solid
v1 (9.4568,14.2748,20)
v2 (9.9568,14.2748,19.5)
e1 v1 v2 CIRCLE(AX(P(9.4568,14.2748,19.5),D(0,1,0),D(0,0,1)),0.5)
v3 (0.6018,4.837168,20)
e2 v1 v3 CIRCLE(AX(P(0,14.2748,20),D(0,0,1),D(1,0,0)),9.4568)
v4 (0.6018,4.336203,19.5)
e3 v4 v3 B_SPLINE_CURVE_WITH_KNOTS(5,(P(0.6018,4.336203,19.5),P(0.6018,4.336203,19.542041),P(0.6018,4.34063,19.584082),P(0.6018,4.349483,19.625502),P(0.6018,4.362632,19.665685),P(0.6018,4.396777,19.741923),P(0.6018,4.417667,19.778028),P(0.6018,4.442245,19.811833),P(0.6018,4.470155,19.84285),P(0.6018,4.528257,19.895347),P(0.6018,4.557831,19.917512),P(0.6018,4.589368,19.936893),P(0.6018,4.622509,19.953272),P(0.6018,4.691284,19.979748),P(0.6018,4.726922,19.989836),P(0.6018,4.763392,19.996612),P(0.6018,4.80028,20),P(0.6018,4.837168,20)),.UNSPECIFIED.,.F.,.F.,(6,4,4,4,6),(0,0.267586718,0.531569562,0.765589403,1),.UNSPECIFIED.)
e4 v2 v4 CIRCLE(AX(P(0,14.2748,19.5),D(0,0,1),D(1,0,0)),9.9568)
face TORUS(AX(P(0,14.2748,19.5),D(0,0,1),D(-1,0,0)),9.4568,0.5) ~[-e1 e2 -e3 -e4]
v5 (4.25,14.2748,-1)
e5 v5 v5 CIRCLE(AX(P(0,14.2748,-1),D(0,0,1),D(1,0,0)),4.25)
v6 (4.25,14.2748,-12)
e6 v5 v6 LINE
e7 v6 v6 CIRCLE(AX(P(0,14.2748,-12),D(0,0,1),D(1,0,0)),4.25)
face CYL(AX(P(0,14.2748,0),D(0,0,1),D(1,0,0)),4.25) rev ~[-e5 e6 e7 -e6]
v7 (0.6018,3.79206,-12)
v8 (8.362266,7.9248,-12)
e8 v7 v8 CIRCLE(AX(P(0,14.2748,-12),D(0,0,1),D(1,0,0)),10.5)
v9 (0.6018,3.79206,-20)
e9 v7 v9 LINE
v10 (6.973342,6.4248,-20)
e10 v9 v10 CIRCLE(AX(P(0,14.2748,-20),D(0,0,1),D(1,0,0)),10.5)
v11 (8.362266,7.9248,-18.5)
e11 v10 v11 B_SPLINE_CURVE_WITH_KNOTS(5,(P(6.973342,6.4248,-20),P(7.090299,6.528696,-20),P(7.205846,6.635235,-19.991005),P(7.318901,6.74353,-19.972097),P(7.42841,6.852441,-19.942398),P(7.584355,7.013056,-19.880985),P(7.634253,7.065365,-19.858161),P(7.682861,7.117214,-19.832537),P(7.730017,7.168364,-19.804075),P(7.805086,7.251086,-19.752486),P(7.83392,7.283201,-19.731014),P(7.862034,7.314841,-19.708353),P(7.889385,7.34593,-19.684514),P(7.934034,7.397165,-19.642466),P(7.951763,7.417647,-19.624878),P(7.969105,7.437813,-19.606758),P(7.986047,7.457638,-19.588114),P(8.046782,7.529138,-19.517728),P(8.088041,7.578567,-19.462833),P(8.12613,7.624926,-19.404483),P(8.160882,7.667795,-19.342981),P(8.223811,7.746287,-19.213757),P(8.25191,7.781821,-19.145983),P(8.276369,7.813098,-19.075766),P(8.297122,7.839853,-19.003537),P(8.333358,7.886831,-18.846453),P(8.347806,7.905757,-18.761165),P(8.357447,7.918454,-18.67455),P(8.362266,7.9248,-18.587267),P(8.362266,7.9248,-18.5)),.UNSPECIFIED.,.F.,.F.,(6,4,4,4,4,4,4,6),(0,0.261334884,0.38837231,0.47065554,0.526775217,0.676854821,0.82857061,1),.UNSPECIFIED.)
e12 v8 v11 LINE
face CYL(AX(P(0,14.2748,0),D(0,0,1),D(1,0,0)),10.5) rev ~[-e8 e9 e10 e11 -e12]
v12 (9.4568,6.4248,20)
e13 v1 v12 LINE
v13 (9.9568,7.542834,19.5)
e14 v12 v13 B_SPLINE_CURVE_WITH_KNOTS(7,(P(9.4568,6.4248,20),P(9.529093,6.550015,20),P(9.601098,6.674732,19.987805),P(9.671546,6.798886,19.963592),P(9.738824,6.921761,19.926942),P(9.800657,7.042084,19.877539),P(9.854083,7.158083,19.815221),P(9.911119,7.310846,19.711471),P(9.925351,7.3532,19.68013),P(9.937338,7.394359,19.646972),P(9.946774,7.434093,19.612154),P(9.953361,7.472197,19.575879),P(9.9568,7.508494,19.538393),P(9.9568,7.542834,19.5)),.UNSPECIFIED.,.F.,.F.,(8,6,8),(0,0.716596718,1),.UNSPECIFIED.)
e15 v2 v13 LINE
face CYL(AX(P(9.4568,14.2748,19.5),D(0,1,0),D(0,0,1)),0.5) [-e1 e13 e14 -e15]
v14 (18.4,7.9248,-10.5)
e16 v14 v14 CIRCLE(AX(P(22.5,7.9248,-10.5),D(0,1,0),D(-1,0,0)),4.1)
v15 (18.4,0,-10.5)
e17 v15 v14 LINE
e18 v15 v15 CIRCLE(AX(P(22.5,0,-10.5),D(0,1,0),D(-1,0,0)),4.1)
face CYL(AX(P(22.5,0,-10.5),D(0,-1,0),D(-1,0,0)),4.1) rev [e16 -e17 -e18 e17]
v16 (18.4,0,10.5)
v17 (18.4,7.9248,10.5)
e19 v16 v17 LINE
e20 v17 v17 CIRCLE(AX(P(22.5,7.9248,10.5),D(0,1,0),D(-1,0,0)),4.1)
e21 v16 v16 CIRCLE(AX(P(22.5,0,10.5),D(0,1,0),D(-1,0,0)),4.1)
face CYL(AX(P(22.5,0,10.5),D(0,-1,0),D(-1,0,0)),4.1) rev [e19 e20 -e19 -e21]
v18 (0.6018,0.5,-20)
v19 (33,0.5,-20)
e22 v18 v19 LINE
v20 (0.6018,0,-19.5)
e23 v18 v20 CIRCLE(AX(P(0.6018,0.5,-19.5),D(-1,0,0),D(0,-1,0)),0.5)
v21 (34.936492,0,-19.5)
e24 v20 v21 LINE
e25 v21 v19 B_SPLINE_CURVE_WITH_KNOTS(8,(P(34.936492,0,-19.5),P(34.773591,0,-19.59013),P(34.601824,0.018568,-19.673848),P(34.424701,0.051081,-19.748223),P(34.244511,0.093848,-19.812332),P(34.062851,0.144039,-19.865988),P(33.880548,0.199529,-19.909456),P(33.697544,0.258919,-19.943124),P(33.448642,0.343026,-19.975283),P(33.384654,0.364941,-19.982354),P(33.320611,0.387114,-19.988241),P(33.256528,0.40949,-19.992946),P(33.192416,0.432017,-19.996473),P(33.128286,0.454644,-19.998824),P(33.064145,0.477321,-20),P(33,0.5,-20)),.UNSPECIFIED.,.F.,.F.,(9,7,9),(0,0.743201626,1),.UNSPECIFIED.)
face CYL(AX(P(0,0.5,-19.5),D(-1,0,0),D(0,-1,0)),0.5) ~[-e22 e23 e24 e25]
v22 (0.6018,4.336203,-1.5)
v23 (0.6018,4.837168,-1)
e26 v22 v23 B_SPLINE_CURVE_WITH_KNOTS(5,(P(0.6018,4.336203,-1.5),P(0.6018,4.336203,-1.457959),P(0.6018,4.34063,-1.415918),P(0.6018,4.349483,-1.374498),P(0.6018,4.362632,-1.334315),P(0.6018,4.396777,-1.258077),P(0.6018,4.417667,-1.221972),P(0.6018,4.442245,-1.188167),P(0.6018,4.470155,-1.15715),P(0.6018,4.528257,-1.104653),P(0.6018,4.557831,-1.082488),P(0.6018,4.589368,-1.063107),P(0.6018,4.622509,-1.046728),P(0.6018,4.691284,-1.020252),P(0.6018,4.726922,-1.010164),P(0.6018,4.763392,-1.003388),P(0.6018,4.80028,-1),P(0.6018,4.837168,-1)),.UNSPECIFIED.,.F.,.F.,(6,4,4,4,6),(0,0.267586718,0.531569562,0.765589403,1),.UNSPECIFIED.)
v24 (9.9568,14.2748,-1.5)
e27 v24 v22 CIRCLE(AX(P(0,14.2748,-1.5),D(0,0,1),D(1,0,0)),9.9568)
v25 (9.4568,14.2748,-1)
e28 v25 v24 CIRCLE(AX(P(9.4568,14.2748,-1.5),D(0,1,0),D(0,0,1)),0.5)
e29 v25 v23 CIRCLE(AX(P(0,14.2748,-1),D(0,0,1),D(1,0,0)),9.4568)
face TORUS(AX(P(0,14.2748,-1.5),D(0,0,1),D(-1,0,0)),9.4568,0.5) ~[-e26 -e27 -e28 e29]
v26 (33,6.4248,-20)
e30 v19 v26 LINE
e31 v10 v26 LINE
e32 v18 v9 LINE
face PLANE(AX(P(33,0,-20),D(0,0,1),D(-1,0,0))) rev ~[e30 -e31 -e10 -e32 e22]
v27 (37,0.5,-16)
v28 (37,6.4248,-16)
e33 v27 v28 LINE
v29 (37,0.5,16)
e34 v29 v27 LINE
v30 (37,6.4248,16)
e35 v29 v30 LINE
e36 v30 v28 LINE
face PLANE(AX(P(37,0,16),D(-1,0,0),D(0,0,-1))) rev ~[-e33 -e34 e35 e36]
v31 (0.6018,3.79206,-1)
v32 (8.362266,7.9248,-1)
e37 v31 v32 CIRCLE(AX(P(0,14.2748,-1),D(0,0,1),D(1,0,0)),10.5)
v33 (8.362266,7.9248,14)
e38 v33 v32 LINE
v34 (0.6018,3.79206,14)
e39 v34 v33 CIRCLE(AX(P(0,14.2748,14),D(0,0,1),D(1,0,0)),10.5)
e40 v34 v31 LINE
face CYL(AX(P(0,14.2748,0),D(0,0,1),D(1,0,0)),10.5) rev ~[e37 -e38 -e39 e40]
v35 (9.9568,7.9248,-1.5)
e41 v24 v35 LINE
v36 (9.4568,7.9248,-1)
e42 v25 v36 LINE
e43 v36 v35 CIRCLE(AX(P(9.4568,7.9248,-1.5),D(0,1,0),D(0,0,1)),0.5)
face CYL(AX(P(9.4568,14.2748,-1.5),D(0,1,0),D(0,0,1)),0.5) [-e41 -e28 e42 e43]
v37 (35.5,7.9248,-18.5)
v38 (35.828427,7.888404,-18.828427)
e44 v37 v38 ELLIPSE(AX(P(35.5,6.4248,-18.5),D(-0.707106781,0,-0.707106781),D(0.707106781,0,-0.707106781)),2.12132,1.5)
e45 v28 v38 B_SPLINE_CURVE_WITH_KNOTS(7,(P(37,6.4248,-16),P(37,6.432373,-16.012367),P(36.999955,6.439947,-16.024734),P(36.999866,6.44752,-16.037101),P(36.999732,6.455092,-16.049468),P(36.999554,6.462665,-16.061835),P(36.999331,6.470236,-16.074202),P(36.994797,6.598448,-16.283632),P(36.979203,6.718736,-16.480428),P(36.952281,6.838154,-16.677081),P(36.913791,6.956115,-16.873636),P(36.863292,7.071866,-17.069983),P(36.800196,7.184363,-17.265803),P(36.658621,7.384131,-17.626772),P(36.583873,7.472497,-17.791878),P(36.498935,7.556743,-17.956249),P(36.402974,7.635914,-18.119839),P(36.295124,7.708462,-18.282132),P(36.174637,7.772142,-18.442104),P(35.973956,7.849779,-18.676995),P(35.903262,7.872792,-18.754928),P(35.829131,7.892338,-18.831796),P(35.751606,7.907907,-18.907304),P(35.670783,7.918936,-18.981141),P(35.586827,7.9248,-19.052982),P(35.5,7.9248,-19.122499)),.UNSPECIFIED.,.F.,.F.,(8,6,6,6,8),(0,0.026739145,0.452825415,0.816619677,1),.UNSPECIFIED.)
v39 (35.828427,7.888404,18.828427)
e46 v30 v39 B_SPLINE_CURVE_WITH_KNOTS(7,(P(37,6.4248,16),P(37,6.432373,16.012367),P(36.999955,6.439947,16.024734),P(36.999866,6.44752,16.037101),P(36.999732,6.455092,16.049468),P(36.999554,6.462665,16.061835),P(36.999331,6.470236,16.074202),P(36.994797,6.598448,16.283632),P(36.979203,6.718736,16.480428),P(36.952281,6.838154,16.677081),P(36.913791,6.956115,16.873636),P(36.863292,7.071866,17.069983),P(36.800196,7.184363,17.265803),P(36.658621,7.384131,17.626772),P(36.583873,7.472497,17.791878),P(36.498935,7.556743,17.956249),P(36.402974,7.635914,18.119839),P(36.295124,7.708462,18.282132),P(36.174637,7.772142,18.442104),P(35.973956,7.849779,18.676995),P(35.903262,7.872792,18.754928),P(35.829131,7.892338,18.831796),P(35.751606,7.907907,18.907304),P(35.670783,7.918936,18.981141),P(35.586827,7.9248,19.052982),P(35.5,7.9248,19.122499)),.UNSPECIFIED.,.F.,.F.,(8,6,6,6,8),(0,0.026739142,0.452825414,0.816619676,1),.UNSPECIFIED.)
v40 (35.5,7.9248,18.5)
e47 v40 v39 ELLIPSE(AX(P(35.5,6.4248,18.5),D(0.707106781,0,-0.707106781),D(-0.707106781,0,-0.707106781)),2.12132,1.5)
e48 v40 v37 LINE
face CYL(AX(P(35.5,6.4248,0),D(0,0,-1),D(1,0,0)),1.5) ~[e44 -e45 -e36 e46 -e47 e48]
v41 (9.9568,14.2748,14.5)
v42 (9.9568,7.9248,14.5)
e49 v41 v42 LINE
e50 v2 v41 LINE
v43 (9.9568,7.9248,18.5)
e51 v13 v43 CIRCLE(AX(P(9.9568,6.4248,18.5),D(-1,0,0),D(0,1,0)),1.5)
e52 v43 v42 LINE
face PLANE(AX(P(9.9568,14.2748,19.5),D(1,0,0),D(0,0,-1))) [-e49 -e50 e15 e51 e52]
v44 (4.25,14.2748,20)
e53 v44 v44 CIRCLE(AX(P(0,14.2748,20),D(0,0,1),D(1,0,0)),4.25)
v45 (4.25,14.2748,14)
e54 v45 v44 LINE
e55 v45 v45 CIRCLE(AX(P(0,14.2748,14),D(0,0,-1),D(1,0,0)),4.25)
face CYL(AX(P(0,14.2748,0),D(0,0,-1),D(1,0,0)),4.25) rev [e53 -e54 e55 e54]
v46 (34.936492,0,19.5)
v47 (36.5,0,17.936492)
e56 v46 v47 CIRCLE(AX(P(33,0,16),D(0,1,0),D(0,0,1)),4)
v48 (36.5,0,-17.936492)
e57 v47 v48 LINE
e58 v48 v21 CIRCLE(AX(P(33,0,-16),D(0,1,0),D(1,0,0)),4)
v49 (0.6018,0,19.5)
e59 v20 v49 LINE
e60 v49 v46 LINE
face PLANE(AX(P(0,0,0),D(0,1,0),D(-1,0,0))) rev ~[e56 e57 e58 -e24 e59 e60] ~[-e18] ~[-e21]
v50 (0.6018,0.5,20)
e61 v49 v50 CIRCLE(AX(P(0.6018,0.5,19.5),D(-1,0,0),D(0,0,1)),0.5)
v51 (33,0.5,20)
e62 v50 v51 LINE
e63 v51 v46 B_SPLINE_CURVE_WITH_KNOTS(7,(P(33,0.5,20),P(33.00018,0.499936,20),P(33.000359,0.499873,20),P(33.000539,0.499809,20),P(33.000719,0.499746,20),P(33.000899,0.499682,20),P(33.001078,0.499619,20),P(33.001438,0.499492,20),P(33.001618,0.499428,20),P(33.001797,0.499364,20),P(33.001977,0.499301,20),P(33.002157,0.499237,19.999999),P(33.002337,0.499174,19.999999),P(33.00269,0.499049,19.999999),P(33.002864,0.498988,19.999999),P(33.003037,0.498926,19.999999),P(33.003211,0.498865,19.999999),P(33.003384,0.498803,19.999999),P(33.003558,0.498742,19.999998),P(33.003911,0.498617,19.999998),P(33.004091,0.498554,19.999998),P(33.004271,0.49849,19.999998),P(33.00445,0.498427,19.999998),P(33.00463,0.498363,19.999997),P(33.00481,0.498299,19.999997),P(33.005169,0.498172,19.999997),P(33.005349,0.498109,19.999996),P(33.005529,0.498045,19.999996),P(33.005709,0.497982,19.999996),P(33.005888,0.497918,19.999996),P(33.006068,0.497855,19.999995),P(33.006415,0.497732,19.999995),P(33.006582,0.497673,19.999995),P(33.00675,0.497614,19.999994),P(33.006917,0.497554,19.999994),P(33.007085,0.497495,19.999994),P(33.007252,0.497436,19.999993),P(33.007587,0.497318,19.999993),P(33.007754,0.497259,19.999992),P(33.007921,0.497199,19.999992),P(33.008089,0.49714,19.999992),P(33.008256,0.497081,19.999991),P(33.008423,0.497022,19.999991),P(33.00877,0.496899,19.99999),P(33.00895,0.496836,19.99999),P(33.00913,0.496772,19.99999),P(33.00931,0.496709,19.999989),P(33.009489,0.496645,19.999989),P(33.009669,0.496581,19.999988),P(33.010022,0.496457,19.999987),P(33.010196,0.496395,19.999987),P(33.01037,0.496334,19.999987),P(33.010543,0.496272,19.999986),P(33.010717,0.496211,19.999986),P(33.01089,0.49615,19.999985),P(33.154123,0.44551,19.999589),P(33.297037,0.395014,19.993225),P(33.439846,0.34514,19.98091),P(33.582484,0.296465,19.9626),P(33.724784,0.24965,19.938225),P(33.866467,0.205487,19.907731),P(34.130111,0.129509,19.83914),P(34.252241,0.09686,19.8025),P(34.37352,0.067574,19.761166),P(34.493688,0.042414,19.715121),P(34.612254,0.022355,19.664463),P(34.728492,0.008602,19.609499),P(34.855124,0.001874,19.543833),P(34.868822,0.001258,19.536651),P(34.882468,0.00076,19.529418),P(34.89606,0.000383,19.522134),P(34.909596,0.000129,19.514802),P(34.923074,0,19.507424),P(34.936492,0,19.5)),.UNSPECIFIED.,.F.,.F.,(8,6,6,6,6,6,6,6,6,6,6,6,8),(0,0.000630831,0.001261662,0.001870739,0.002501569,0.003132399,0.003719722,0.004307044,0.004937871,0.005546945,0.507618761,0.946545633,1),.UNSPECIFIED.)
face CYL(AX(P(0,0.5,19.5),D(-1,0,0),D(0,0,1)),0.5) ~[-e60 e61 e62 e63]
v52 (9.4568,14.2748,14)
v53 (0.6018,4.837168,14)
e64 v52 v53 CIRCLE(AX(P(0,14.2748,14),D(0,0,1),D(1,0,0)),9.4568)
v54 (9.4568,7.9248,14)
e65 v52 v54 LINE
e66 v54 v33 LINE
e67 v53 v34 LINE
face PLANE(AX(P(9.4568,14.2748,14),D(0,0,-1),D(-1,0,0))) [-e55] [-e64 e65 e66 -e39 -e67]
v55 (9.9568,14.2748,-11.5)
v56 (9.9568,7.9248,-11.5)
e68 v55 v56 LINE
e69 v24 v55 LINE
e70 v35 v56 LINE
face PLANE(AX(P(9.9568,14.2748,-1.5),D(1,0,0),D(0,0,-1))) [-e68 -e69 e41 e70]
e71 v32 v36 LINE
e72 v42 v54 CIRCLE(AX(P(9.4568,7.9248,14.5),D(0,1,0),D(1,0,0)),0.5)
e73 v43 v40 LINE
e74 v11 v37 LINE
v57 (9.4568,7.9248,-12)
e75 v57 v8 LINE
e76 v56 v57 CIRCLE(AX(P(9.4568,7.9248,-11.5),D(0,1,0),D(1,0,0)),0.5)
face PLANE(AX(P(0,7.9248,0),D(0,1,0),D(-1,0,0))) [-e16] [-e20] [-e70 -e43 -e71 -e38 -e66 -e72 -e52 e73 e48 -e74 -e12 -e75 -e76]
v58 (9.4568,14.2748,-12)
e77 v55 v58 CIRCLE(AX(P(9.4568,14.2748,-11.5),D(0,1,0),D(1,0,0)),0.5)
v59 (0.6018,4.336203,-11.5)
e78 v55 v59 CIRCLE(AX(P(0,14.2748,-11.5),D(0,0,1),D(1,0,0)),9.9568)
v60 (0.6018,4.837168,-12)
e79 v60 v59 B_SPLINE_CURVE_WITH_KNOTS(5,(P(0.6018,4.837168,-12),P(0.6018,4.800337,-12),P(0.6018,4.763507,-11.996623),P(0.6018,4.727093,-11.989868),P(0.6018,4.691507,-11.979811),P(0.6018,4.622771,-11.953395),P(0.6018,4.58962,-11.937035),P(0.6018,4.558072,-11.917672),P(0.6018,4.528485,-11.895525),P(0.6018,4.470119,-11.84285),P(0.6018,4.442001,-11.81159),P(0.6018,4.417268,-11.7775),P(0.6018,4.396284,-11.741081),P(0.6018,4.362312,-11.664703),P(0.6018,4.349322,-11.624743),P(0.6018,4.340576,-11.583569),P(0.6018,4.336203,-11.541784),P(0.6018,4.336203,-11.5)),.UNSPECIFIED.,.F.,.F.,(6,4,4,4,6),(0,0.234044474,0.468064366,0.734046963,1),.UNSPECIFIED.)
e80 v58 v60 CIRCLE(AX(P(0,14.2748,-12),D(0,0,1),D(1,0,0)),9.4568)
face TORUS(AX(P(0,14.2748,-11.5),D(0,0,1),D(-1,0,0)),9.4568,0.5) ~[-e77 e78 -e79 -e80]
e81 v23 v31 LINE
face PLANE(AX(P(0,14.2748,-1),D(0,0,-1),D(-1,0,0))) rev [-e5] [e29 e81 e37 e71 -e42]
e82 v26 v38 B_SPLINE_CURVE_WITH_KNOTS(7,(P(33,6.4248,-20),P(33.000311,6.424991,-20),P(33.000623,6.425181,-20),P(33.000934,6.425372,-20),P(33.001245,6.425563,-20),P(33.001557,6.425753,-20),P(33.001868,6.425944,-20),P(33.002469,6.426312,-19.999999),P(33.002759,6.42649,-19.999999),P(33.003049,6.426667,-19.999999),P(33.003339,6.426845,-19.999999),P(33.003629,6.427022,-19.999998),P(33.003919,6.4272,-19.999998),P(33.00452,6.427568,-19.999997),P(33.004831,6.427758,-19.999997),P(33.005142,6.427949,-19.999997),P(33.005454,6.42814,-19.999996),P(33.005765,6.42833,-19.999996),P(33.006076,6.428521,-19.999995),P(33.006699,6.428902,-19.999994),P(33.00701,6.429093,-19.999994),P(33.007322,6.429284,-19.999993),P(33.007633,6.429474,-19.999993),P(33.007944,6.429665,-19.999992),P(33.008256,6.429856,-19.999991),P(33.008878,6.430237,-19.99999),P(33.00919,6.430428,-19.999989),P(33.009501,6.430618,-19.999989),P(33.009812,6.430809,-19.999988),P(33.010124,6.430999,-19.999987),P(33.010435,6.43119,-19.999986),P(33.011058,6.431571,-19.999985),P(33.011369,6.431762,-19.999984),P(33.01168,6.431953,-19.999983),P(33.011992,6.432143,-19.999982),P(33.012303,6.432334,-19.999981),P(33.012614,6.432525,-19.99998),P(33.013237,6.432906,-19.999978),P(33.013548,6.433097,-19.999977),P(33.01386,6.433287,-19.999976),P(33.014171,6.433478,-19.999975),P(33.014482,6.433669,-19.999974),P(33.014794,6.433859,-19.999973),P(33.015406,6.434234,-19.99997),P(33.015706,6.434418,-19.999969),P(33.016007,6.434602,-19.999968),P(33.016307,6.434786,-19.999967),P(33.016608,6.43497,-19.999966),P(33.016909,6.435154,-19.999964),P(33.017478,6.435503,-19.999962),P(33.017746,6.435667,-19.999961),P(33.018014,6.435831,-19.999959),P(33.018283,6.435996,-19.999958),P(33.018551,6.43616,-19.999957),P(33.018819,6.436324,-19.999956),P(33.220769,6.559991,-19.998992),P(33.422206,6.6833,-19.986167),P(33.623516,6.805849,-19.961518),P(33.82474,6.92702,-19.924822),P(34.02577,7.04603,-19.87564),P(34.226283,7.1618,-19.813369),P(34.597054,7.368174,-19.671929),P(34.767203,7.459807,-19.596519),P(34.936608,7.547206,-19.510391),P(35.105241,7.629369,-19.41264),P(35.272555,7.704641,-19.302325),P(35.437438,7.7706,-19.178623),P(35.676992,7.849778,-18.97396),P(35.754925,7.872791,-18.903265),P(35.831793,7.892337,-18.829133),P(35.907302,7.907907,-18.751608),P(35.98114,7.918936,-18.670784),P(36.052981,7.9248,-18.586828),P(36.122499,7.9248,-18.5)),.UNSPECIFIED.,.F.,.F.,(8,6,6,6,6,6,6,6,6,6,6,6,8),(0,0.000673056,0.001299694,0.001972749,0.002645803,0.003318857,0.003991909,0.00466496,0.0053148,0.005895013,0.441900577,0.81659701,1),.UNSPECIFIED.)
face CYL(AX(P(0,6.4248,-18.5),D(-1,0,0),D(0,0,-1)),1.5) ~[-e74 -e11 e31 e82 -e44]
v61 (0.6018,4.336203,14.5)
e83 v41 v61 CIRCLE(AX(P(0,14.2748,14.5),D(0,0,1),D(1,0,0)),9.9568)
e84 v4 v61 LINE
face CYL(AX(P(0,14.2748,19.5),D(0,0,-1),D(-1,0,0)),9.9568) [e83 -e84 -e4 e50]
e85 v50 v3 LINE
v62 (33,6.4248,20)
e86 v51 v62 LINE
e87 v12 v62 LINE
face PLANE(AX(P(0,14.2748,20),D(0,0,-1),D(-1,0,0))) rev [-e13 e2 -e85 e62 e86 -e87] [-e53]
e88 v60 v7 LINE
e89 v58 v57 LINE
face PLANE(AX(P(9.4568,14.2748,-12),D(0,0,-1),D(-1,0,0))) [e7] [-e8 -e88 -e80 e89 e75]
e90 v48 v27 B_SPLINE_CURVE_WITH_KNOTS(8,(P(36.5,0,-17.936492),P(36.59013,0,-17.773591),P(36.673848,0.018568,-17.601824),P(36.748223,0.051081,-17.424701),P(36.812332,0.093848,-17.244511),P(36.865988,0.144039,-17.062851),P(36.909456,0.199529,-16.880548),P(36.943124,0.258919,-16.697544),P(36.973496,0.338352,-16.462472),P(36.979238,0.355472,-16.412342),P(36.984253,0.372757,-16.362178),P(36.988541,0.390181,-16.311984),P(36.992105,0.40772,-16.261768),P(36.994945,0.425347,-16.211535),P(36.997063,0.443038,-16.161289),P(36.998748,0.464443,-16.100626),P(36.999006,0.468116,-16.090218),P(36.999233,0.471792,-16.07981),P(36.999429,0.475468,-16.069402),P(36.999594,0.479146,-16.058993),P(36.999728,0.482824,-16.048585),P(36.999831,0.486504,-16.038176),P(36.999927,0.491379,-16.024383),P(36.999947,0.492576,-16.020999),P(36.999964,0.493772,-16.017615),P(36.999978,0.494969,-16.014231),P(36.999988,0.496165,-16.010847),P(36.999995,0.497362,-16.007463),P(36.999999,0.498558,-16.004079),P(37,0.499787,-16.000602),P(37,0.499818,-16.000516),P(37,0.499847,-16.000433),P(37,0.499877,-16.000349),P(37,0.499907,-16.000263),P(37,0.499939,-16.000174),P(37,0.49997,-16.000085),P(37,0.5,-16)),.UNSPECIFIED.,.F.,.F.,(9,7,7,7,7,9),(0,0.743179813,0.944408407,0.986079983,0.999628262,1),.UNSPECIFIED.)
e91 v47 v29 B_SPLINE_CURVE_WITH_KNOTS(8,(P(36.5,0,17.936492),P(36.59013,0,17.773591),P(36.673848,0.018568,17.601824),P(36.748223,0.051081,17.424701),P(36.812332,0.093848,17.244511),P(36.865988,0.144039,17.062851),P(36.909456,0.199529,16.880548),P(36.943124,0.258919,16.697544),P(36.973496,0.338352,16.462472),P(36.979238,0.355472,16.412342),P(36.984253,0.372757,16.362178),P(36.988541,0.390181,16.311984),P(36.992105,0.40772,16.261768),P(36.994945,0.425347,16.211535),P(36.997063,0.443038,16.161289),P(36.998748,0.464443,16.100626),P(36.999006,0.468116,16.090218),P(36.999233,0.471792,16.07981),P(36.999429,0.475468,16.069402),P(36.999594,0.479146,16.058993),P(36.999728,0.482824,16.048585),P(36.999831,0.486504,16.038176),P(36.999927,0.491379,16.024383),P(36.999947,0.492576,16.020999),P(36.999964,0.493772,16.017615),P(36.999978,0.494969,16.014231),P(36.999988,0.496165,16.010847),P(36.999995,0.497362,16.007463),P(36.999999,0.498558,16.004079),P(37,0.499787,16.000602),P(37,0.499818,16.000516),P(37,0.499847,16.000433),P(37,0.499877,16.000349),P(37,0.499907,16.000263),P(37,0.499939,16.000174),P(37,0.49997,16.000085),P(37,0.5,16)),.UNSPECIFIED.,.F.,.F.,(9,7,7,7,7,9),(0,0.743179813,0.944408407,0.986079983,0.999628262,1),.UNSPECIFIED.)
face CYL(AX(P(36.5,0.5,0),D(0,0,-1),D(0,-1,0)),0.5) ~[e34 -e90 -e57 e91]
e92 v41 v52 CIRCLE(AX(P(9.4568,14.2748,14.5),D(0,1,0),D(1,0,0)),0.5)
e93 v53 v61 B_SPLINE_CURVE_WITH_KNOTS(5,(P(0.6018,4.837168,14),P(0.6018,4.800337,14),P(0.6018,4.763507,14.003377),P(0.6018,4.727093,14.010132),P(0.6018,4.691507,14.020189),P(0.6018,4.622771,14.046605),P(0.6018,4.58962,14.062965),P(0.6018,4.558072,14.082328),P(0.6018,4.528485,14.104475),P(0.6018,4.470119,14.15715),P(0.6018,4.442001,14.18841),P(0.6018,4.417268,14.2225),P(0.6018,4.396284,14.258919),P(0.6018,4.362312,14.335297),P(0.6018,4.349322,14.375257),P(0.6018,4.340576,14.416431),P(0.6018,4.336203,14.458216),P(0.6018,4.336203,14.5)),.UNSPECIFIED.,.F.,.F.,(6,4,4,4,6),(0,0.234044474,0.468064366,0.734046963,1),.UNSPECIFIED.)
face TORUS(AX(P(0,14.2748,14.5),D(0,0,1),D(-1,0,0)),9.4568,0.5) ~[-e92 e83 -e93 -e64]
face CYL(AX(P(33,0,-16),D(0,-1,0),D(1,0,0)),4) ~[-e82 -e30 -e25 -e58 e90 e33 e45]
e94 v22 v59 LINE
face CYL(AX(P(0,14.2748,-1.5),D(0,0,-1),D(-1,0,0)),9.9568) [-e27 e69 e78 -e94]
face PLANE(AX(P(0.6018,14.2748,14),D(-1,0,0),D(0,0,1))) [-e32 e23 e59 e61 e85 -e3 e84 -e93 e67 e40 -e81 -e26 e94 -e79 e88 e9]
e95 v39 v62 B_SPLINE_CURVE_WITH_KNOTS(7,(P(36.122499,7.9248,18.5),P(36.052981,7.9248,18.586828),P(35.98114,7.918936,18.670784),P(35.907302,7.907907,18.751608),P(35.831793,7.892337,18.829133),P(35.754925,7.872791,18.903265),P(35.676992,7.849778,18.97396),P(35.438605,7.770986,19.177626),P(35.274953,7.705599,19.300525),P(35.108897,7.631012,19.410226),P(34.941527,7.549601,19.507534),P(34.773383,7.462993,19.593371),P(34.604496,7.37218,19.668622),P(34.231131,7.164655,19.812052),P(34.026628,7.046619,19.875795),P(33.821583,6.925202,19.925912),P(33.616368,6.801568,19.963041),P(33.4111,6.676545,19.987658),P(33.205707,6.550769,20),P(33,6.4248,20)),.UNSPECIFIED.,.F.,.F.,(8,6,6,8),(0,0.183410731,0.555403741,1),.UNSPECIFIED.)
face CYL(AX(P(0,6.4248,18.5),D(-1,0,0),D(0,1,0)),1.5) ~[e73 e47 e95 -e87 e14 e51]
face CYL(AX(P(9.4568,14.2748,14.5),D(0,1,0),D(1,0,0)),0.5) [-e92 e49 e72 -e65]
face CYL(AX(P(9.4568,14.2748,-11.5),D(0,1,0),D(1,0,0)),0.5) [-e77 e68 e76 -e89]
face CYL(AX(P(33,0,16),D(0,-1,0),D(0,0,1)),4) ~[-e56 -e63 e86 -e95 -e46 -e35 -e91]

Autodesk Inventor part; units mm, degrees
sketch "Sketch_1" plane through (0, 0, 0) normal (0, 1, 0) x (-1, 0, 0)
  line L0 (-0.6018, -20) -> (-0.6018, 20)
  line L1 (-0.6018, 20) -> (-33, 20)
  arc A0 (-33, 20) -> (-37, 16) centre (-33, 16) ccw
  line L2 (-37, 16) -> (-37, -16)
  arc A1 (-37, -16) -> (-33, -20) centre (-33, -16) ccw
  line L3 (-33, -20) -> (-0.6018, -20)
  circle A2 centre (-22.5, 10.5) radius 4.1
  circle A3 centre (-22.5, -10.5) radius 4.1
extrude "Extrusion1" add sketch "Sketch_1" along normal blind 7.9248
sketch "Sketch_2" plane through (0, 0, 0) normal (0, 0, 1) x (1, 0, 0)
  line L0 (-37, 15.8496) -> (-37, -7.9248)
  line L1 (-37, -7.9248) -> (74, -7.9248)
  line L2 (74, -7.9248) -> (74, 15.8496)
  line L3 (74, 15.8496) -> (-37, 15.8496)
  line L4 (0.6, 7.9248) -> (0.6, 0)
  line L5 (0.6, 0) -> (36.5, 0)
  arc A0 (36.5, 0) -> (37, 0.5) centre (36.5, 0.5) ccw
  line L6 (37, 0.5) -> (37, 6.4248)
  arc A1 (37, 6.4248) -> (35.5, 7.9248) centre (35.5, 6.4248) ccw
  line L7 (35.5, 7.9248) -> (0.6, 7.9248)
extrude "Extrusion2" cut sketch "Sketch_2" along normal mid plane 40
sketch "Sketch_3" plane through (0, 0, 0) normal (1, 0, 0) x (0, 1, 0)
  line L0 (15.8496, 40) -> (-7.9248, 40)
  line L1 (-7.9248, 40) -> (-7.9248, -40)
  line L2 (-7.9248, -40) -> (15.8496, -40)
  line L3 (15.8496, -40) -> (15.8496, 40)
  arc A0 (0.5, 20) -> (0, 19.5) centre (0.5, 19.5) ccw
  line L4 (0, 19.5) -> (0, -19.5)
  arc A1 (0, -19.5) -> (0.5, -20) centre (0.5, -19.5) ccw
  line L5 (0.5, -20) -> (6.4248, -20)
  arc A2 (6.4248, -20) -> (7.9248, -18.5) centre (6.4248, -18.5) ccw
  line L6 (7.9248, -18.5) -> (7.9248, 18.5)
  arc A3 (7.9248, 18.5) -> (6.4248, 20) centre (6.4248, 18.5) ccw
  line L7 (6.4248, 20) -> (0.5, 20)
extrude "Extrusion3" cut sketch "Sketch_3" along normal blind 74
sketch "Sketch_4" plane through (0, 0, 0) normal (0, 0, 1) x (1, 0, 0)
  circle A0 centre (0, 14.2748) radius 10.5
extrude "Extrusion4" cut sketch "Sketch_4" along normal mid plane 40
sketch "Sketch_5" plane through (0, 14.2748, 0) normal (0, 1, 0) x (1, 0, 0)
  line L0 (0.6018, 12) -> (0.6018, 1)
  line L1 (0.6018, 1) -> (9.4568, 1)
  arc A0 (9.4568, 1) -> (9.9568, 1.5) centre (9.4568, 1.5) ccw
  line L2 (9.9568, 1.5) -> (9.9568, 11.5)
  arc A1 (9.9568, 11.5) -> (9.4568, 12) centre (9.4568, 11.5) ccw
  line L3 (9.4568, 12) -> (0.6018, 12)
extrude "Extrusion5" add sketch "Sketch_5" against normal blind 11.7348
sketch "Sketch_6" plane through (0, 14.2748, 0) normal (0, 1, 0) x (1, 0, 0)
  line L0 (0, 12) -> (0, 1)
  line L1 (0, 1) -> (-9.4568, 1)
  arc A0 (-9.9568, 1.5) -> (-9.4568, 1) centre (-9.4568, 1.5) ccw
  line L2 (-9.9568, 1.5) -> (-9.9568, 11.5)
  arc A1 (-9.4568, 12) -> (-9.9568, 11.5) centre (-9.4568, 11.5) ccw
  line L3 (-9.4568, 12) -> (0, 12)
  line L4 (0, 12) -> (0, 1)
revolve "Revolution1" add sketch "Sketch_6" angle 360 about axis through (0, 14.2748, -12) along (0, 0, -1)
sketch "Sketch_7" plane through (0, 14.2748, 0) normal (0, 1, 0) x (1, 0, 0)
  line L0 (0.6018, -14) -> (0.6018, -20)
  line L1 (0.6018, -20) -> (9.4568, -20)
  arc A0 (9.4568, -20) -> (9.9568, -19.5) centre (9.4568, -19.5) ccw
  line L2 (9.9568, -19.5) -> (9.9568, -14.5)
  arc A1 (9.9568, -14.5) -> (9.4568, -14) centre (9.4568, -14.5) ccw
  line L3 (9.4568, -14) -> (0.6018, -14)
extrude "Extrusion6" add sketch "Sketch_7" against normal blind 11.7348
sketch "Sketch_8" plane through (0, 14.2748, 0) normal (0, 1, 0) x (1, 0, 0)
  line L0 (0, -14) -> (0, -20)
  line L1 (0, -20) -> (-9.4568, -20)
  arc A0 (-9.9568, -19.5) -> (-9.4568, -20) centre (-9.4568, -19.5) ccw
  line L2 (-9.9568, -19.5) -> (-9.9568, -14.5)
  arc A1 (-9.4568, -14) -> (-9.9568, -14.5) centre (-9.4568, -14.5) ccw
  line L3 (-9.4568, -14) -> (0, -14)
  line L4 (0, -14) -> (0, -20)
revolve "Revolution2" add sketch "Sketch_8" angle 360 about axis through (0, 14.2748, 14) along (0, 0, -1)
sketch "Sketch_9" plane through (0, 0, 0) normal (0, 0, 1) x (1, 0, 0)
  circle A0 centre (0, 14.2748) radius 4.25
extrude "Extrusion7" cut sketch "Sketch_9" along normal mid plane 40
ref_plane "to_a_XY" through (0, 14.2748, 0) normal (0, 0, -1) x (1, 0, 0)
ref_plane "to_a_YZ" through (0, 14.2748, 0) normal (1, 0, 0) x (0, -1, 0)
ref_plane "to_a_ZX" through (0, 14.2748, 0) normal (0, -1, 0) x (0, 0, -1)
properties part number "4489_b"
